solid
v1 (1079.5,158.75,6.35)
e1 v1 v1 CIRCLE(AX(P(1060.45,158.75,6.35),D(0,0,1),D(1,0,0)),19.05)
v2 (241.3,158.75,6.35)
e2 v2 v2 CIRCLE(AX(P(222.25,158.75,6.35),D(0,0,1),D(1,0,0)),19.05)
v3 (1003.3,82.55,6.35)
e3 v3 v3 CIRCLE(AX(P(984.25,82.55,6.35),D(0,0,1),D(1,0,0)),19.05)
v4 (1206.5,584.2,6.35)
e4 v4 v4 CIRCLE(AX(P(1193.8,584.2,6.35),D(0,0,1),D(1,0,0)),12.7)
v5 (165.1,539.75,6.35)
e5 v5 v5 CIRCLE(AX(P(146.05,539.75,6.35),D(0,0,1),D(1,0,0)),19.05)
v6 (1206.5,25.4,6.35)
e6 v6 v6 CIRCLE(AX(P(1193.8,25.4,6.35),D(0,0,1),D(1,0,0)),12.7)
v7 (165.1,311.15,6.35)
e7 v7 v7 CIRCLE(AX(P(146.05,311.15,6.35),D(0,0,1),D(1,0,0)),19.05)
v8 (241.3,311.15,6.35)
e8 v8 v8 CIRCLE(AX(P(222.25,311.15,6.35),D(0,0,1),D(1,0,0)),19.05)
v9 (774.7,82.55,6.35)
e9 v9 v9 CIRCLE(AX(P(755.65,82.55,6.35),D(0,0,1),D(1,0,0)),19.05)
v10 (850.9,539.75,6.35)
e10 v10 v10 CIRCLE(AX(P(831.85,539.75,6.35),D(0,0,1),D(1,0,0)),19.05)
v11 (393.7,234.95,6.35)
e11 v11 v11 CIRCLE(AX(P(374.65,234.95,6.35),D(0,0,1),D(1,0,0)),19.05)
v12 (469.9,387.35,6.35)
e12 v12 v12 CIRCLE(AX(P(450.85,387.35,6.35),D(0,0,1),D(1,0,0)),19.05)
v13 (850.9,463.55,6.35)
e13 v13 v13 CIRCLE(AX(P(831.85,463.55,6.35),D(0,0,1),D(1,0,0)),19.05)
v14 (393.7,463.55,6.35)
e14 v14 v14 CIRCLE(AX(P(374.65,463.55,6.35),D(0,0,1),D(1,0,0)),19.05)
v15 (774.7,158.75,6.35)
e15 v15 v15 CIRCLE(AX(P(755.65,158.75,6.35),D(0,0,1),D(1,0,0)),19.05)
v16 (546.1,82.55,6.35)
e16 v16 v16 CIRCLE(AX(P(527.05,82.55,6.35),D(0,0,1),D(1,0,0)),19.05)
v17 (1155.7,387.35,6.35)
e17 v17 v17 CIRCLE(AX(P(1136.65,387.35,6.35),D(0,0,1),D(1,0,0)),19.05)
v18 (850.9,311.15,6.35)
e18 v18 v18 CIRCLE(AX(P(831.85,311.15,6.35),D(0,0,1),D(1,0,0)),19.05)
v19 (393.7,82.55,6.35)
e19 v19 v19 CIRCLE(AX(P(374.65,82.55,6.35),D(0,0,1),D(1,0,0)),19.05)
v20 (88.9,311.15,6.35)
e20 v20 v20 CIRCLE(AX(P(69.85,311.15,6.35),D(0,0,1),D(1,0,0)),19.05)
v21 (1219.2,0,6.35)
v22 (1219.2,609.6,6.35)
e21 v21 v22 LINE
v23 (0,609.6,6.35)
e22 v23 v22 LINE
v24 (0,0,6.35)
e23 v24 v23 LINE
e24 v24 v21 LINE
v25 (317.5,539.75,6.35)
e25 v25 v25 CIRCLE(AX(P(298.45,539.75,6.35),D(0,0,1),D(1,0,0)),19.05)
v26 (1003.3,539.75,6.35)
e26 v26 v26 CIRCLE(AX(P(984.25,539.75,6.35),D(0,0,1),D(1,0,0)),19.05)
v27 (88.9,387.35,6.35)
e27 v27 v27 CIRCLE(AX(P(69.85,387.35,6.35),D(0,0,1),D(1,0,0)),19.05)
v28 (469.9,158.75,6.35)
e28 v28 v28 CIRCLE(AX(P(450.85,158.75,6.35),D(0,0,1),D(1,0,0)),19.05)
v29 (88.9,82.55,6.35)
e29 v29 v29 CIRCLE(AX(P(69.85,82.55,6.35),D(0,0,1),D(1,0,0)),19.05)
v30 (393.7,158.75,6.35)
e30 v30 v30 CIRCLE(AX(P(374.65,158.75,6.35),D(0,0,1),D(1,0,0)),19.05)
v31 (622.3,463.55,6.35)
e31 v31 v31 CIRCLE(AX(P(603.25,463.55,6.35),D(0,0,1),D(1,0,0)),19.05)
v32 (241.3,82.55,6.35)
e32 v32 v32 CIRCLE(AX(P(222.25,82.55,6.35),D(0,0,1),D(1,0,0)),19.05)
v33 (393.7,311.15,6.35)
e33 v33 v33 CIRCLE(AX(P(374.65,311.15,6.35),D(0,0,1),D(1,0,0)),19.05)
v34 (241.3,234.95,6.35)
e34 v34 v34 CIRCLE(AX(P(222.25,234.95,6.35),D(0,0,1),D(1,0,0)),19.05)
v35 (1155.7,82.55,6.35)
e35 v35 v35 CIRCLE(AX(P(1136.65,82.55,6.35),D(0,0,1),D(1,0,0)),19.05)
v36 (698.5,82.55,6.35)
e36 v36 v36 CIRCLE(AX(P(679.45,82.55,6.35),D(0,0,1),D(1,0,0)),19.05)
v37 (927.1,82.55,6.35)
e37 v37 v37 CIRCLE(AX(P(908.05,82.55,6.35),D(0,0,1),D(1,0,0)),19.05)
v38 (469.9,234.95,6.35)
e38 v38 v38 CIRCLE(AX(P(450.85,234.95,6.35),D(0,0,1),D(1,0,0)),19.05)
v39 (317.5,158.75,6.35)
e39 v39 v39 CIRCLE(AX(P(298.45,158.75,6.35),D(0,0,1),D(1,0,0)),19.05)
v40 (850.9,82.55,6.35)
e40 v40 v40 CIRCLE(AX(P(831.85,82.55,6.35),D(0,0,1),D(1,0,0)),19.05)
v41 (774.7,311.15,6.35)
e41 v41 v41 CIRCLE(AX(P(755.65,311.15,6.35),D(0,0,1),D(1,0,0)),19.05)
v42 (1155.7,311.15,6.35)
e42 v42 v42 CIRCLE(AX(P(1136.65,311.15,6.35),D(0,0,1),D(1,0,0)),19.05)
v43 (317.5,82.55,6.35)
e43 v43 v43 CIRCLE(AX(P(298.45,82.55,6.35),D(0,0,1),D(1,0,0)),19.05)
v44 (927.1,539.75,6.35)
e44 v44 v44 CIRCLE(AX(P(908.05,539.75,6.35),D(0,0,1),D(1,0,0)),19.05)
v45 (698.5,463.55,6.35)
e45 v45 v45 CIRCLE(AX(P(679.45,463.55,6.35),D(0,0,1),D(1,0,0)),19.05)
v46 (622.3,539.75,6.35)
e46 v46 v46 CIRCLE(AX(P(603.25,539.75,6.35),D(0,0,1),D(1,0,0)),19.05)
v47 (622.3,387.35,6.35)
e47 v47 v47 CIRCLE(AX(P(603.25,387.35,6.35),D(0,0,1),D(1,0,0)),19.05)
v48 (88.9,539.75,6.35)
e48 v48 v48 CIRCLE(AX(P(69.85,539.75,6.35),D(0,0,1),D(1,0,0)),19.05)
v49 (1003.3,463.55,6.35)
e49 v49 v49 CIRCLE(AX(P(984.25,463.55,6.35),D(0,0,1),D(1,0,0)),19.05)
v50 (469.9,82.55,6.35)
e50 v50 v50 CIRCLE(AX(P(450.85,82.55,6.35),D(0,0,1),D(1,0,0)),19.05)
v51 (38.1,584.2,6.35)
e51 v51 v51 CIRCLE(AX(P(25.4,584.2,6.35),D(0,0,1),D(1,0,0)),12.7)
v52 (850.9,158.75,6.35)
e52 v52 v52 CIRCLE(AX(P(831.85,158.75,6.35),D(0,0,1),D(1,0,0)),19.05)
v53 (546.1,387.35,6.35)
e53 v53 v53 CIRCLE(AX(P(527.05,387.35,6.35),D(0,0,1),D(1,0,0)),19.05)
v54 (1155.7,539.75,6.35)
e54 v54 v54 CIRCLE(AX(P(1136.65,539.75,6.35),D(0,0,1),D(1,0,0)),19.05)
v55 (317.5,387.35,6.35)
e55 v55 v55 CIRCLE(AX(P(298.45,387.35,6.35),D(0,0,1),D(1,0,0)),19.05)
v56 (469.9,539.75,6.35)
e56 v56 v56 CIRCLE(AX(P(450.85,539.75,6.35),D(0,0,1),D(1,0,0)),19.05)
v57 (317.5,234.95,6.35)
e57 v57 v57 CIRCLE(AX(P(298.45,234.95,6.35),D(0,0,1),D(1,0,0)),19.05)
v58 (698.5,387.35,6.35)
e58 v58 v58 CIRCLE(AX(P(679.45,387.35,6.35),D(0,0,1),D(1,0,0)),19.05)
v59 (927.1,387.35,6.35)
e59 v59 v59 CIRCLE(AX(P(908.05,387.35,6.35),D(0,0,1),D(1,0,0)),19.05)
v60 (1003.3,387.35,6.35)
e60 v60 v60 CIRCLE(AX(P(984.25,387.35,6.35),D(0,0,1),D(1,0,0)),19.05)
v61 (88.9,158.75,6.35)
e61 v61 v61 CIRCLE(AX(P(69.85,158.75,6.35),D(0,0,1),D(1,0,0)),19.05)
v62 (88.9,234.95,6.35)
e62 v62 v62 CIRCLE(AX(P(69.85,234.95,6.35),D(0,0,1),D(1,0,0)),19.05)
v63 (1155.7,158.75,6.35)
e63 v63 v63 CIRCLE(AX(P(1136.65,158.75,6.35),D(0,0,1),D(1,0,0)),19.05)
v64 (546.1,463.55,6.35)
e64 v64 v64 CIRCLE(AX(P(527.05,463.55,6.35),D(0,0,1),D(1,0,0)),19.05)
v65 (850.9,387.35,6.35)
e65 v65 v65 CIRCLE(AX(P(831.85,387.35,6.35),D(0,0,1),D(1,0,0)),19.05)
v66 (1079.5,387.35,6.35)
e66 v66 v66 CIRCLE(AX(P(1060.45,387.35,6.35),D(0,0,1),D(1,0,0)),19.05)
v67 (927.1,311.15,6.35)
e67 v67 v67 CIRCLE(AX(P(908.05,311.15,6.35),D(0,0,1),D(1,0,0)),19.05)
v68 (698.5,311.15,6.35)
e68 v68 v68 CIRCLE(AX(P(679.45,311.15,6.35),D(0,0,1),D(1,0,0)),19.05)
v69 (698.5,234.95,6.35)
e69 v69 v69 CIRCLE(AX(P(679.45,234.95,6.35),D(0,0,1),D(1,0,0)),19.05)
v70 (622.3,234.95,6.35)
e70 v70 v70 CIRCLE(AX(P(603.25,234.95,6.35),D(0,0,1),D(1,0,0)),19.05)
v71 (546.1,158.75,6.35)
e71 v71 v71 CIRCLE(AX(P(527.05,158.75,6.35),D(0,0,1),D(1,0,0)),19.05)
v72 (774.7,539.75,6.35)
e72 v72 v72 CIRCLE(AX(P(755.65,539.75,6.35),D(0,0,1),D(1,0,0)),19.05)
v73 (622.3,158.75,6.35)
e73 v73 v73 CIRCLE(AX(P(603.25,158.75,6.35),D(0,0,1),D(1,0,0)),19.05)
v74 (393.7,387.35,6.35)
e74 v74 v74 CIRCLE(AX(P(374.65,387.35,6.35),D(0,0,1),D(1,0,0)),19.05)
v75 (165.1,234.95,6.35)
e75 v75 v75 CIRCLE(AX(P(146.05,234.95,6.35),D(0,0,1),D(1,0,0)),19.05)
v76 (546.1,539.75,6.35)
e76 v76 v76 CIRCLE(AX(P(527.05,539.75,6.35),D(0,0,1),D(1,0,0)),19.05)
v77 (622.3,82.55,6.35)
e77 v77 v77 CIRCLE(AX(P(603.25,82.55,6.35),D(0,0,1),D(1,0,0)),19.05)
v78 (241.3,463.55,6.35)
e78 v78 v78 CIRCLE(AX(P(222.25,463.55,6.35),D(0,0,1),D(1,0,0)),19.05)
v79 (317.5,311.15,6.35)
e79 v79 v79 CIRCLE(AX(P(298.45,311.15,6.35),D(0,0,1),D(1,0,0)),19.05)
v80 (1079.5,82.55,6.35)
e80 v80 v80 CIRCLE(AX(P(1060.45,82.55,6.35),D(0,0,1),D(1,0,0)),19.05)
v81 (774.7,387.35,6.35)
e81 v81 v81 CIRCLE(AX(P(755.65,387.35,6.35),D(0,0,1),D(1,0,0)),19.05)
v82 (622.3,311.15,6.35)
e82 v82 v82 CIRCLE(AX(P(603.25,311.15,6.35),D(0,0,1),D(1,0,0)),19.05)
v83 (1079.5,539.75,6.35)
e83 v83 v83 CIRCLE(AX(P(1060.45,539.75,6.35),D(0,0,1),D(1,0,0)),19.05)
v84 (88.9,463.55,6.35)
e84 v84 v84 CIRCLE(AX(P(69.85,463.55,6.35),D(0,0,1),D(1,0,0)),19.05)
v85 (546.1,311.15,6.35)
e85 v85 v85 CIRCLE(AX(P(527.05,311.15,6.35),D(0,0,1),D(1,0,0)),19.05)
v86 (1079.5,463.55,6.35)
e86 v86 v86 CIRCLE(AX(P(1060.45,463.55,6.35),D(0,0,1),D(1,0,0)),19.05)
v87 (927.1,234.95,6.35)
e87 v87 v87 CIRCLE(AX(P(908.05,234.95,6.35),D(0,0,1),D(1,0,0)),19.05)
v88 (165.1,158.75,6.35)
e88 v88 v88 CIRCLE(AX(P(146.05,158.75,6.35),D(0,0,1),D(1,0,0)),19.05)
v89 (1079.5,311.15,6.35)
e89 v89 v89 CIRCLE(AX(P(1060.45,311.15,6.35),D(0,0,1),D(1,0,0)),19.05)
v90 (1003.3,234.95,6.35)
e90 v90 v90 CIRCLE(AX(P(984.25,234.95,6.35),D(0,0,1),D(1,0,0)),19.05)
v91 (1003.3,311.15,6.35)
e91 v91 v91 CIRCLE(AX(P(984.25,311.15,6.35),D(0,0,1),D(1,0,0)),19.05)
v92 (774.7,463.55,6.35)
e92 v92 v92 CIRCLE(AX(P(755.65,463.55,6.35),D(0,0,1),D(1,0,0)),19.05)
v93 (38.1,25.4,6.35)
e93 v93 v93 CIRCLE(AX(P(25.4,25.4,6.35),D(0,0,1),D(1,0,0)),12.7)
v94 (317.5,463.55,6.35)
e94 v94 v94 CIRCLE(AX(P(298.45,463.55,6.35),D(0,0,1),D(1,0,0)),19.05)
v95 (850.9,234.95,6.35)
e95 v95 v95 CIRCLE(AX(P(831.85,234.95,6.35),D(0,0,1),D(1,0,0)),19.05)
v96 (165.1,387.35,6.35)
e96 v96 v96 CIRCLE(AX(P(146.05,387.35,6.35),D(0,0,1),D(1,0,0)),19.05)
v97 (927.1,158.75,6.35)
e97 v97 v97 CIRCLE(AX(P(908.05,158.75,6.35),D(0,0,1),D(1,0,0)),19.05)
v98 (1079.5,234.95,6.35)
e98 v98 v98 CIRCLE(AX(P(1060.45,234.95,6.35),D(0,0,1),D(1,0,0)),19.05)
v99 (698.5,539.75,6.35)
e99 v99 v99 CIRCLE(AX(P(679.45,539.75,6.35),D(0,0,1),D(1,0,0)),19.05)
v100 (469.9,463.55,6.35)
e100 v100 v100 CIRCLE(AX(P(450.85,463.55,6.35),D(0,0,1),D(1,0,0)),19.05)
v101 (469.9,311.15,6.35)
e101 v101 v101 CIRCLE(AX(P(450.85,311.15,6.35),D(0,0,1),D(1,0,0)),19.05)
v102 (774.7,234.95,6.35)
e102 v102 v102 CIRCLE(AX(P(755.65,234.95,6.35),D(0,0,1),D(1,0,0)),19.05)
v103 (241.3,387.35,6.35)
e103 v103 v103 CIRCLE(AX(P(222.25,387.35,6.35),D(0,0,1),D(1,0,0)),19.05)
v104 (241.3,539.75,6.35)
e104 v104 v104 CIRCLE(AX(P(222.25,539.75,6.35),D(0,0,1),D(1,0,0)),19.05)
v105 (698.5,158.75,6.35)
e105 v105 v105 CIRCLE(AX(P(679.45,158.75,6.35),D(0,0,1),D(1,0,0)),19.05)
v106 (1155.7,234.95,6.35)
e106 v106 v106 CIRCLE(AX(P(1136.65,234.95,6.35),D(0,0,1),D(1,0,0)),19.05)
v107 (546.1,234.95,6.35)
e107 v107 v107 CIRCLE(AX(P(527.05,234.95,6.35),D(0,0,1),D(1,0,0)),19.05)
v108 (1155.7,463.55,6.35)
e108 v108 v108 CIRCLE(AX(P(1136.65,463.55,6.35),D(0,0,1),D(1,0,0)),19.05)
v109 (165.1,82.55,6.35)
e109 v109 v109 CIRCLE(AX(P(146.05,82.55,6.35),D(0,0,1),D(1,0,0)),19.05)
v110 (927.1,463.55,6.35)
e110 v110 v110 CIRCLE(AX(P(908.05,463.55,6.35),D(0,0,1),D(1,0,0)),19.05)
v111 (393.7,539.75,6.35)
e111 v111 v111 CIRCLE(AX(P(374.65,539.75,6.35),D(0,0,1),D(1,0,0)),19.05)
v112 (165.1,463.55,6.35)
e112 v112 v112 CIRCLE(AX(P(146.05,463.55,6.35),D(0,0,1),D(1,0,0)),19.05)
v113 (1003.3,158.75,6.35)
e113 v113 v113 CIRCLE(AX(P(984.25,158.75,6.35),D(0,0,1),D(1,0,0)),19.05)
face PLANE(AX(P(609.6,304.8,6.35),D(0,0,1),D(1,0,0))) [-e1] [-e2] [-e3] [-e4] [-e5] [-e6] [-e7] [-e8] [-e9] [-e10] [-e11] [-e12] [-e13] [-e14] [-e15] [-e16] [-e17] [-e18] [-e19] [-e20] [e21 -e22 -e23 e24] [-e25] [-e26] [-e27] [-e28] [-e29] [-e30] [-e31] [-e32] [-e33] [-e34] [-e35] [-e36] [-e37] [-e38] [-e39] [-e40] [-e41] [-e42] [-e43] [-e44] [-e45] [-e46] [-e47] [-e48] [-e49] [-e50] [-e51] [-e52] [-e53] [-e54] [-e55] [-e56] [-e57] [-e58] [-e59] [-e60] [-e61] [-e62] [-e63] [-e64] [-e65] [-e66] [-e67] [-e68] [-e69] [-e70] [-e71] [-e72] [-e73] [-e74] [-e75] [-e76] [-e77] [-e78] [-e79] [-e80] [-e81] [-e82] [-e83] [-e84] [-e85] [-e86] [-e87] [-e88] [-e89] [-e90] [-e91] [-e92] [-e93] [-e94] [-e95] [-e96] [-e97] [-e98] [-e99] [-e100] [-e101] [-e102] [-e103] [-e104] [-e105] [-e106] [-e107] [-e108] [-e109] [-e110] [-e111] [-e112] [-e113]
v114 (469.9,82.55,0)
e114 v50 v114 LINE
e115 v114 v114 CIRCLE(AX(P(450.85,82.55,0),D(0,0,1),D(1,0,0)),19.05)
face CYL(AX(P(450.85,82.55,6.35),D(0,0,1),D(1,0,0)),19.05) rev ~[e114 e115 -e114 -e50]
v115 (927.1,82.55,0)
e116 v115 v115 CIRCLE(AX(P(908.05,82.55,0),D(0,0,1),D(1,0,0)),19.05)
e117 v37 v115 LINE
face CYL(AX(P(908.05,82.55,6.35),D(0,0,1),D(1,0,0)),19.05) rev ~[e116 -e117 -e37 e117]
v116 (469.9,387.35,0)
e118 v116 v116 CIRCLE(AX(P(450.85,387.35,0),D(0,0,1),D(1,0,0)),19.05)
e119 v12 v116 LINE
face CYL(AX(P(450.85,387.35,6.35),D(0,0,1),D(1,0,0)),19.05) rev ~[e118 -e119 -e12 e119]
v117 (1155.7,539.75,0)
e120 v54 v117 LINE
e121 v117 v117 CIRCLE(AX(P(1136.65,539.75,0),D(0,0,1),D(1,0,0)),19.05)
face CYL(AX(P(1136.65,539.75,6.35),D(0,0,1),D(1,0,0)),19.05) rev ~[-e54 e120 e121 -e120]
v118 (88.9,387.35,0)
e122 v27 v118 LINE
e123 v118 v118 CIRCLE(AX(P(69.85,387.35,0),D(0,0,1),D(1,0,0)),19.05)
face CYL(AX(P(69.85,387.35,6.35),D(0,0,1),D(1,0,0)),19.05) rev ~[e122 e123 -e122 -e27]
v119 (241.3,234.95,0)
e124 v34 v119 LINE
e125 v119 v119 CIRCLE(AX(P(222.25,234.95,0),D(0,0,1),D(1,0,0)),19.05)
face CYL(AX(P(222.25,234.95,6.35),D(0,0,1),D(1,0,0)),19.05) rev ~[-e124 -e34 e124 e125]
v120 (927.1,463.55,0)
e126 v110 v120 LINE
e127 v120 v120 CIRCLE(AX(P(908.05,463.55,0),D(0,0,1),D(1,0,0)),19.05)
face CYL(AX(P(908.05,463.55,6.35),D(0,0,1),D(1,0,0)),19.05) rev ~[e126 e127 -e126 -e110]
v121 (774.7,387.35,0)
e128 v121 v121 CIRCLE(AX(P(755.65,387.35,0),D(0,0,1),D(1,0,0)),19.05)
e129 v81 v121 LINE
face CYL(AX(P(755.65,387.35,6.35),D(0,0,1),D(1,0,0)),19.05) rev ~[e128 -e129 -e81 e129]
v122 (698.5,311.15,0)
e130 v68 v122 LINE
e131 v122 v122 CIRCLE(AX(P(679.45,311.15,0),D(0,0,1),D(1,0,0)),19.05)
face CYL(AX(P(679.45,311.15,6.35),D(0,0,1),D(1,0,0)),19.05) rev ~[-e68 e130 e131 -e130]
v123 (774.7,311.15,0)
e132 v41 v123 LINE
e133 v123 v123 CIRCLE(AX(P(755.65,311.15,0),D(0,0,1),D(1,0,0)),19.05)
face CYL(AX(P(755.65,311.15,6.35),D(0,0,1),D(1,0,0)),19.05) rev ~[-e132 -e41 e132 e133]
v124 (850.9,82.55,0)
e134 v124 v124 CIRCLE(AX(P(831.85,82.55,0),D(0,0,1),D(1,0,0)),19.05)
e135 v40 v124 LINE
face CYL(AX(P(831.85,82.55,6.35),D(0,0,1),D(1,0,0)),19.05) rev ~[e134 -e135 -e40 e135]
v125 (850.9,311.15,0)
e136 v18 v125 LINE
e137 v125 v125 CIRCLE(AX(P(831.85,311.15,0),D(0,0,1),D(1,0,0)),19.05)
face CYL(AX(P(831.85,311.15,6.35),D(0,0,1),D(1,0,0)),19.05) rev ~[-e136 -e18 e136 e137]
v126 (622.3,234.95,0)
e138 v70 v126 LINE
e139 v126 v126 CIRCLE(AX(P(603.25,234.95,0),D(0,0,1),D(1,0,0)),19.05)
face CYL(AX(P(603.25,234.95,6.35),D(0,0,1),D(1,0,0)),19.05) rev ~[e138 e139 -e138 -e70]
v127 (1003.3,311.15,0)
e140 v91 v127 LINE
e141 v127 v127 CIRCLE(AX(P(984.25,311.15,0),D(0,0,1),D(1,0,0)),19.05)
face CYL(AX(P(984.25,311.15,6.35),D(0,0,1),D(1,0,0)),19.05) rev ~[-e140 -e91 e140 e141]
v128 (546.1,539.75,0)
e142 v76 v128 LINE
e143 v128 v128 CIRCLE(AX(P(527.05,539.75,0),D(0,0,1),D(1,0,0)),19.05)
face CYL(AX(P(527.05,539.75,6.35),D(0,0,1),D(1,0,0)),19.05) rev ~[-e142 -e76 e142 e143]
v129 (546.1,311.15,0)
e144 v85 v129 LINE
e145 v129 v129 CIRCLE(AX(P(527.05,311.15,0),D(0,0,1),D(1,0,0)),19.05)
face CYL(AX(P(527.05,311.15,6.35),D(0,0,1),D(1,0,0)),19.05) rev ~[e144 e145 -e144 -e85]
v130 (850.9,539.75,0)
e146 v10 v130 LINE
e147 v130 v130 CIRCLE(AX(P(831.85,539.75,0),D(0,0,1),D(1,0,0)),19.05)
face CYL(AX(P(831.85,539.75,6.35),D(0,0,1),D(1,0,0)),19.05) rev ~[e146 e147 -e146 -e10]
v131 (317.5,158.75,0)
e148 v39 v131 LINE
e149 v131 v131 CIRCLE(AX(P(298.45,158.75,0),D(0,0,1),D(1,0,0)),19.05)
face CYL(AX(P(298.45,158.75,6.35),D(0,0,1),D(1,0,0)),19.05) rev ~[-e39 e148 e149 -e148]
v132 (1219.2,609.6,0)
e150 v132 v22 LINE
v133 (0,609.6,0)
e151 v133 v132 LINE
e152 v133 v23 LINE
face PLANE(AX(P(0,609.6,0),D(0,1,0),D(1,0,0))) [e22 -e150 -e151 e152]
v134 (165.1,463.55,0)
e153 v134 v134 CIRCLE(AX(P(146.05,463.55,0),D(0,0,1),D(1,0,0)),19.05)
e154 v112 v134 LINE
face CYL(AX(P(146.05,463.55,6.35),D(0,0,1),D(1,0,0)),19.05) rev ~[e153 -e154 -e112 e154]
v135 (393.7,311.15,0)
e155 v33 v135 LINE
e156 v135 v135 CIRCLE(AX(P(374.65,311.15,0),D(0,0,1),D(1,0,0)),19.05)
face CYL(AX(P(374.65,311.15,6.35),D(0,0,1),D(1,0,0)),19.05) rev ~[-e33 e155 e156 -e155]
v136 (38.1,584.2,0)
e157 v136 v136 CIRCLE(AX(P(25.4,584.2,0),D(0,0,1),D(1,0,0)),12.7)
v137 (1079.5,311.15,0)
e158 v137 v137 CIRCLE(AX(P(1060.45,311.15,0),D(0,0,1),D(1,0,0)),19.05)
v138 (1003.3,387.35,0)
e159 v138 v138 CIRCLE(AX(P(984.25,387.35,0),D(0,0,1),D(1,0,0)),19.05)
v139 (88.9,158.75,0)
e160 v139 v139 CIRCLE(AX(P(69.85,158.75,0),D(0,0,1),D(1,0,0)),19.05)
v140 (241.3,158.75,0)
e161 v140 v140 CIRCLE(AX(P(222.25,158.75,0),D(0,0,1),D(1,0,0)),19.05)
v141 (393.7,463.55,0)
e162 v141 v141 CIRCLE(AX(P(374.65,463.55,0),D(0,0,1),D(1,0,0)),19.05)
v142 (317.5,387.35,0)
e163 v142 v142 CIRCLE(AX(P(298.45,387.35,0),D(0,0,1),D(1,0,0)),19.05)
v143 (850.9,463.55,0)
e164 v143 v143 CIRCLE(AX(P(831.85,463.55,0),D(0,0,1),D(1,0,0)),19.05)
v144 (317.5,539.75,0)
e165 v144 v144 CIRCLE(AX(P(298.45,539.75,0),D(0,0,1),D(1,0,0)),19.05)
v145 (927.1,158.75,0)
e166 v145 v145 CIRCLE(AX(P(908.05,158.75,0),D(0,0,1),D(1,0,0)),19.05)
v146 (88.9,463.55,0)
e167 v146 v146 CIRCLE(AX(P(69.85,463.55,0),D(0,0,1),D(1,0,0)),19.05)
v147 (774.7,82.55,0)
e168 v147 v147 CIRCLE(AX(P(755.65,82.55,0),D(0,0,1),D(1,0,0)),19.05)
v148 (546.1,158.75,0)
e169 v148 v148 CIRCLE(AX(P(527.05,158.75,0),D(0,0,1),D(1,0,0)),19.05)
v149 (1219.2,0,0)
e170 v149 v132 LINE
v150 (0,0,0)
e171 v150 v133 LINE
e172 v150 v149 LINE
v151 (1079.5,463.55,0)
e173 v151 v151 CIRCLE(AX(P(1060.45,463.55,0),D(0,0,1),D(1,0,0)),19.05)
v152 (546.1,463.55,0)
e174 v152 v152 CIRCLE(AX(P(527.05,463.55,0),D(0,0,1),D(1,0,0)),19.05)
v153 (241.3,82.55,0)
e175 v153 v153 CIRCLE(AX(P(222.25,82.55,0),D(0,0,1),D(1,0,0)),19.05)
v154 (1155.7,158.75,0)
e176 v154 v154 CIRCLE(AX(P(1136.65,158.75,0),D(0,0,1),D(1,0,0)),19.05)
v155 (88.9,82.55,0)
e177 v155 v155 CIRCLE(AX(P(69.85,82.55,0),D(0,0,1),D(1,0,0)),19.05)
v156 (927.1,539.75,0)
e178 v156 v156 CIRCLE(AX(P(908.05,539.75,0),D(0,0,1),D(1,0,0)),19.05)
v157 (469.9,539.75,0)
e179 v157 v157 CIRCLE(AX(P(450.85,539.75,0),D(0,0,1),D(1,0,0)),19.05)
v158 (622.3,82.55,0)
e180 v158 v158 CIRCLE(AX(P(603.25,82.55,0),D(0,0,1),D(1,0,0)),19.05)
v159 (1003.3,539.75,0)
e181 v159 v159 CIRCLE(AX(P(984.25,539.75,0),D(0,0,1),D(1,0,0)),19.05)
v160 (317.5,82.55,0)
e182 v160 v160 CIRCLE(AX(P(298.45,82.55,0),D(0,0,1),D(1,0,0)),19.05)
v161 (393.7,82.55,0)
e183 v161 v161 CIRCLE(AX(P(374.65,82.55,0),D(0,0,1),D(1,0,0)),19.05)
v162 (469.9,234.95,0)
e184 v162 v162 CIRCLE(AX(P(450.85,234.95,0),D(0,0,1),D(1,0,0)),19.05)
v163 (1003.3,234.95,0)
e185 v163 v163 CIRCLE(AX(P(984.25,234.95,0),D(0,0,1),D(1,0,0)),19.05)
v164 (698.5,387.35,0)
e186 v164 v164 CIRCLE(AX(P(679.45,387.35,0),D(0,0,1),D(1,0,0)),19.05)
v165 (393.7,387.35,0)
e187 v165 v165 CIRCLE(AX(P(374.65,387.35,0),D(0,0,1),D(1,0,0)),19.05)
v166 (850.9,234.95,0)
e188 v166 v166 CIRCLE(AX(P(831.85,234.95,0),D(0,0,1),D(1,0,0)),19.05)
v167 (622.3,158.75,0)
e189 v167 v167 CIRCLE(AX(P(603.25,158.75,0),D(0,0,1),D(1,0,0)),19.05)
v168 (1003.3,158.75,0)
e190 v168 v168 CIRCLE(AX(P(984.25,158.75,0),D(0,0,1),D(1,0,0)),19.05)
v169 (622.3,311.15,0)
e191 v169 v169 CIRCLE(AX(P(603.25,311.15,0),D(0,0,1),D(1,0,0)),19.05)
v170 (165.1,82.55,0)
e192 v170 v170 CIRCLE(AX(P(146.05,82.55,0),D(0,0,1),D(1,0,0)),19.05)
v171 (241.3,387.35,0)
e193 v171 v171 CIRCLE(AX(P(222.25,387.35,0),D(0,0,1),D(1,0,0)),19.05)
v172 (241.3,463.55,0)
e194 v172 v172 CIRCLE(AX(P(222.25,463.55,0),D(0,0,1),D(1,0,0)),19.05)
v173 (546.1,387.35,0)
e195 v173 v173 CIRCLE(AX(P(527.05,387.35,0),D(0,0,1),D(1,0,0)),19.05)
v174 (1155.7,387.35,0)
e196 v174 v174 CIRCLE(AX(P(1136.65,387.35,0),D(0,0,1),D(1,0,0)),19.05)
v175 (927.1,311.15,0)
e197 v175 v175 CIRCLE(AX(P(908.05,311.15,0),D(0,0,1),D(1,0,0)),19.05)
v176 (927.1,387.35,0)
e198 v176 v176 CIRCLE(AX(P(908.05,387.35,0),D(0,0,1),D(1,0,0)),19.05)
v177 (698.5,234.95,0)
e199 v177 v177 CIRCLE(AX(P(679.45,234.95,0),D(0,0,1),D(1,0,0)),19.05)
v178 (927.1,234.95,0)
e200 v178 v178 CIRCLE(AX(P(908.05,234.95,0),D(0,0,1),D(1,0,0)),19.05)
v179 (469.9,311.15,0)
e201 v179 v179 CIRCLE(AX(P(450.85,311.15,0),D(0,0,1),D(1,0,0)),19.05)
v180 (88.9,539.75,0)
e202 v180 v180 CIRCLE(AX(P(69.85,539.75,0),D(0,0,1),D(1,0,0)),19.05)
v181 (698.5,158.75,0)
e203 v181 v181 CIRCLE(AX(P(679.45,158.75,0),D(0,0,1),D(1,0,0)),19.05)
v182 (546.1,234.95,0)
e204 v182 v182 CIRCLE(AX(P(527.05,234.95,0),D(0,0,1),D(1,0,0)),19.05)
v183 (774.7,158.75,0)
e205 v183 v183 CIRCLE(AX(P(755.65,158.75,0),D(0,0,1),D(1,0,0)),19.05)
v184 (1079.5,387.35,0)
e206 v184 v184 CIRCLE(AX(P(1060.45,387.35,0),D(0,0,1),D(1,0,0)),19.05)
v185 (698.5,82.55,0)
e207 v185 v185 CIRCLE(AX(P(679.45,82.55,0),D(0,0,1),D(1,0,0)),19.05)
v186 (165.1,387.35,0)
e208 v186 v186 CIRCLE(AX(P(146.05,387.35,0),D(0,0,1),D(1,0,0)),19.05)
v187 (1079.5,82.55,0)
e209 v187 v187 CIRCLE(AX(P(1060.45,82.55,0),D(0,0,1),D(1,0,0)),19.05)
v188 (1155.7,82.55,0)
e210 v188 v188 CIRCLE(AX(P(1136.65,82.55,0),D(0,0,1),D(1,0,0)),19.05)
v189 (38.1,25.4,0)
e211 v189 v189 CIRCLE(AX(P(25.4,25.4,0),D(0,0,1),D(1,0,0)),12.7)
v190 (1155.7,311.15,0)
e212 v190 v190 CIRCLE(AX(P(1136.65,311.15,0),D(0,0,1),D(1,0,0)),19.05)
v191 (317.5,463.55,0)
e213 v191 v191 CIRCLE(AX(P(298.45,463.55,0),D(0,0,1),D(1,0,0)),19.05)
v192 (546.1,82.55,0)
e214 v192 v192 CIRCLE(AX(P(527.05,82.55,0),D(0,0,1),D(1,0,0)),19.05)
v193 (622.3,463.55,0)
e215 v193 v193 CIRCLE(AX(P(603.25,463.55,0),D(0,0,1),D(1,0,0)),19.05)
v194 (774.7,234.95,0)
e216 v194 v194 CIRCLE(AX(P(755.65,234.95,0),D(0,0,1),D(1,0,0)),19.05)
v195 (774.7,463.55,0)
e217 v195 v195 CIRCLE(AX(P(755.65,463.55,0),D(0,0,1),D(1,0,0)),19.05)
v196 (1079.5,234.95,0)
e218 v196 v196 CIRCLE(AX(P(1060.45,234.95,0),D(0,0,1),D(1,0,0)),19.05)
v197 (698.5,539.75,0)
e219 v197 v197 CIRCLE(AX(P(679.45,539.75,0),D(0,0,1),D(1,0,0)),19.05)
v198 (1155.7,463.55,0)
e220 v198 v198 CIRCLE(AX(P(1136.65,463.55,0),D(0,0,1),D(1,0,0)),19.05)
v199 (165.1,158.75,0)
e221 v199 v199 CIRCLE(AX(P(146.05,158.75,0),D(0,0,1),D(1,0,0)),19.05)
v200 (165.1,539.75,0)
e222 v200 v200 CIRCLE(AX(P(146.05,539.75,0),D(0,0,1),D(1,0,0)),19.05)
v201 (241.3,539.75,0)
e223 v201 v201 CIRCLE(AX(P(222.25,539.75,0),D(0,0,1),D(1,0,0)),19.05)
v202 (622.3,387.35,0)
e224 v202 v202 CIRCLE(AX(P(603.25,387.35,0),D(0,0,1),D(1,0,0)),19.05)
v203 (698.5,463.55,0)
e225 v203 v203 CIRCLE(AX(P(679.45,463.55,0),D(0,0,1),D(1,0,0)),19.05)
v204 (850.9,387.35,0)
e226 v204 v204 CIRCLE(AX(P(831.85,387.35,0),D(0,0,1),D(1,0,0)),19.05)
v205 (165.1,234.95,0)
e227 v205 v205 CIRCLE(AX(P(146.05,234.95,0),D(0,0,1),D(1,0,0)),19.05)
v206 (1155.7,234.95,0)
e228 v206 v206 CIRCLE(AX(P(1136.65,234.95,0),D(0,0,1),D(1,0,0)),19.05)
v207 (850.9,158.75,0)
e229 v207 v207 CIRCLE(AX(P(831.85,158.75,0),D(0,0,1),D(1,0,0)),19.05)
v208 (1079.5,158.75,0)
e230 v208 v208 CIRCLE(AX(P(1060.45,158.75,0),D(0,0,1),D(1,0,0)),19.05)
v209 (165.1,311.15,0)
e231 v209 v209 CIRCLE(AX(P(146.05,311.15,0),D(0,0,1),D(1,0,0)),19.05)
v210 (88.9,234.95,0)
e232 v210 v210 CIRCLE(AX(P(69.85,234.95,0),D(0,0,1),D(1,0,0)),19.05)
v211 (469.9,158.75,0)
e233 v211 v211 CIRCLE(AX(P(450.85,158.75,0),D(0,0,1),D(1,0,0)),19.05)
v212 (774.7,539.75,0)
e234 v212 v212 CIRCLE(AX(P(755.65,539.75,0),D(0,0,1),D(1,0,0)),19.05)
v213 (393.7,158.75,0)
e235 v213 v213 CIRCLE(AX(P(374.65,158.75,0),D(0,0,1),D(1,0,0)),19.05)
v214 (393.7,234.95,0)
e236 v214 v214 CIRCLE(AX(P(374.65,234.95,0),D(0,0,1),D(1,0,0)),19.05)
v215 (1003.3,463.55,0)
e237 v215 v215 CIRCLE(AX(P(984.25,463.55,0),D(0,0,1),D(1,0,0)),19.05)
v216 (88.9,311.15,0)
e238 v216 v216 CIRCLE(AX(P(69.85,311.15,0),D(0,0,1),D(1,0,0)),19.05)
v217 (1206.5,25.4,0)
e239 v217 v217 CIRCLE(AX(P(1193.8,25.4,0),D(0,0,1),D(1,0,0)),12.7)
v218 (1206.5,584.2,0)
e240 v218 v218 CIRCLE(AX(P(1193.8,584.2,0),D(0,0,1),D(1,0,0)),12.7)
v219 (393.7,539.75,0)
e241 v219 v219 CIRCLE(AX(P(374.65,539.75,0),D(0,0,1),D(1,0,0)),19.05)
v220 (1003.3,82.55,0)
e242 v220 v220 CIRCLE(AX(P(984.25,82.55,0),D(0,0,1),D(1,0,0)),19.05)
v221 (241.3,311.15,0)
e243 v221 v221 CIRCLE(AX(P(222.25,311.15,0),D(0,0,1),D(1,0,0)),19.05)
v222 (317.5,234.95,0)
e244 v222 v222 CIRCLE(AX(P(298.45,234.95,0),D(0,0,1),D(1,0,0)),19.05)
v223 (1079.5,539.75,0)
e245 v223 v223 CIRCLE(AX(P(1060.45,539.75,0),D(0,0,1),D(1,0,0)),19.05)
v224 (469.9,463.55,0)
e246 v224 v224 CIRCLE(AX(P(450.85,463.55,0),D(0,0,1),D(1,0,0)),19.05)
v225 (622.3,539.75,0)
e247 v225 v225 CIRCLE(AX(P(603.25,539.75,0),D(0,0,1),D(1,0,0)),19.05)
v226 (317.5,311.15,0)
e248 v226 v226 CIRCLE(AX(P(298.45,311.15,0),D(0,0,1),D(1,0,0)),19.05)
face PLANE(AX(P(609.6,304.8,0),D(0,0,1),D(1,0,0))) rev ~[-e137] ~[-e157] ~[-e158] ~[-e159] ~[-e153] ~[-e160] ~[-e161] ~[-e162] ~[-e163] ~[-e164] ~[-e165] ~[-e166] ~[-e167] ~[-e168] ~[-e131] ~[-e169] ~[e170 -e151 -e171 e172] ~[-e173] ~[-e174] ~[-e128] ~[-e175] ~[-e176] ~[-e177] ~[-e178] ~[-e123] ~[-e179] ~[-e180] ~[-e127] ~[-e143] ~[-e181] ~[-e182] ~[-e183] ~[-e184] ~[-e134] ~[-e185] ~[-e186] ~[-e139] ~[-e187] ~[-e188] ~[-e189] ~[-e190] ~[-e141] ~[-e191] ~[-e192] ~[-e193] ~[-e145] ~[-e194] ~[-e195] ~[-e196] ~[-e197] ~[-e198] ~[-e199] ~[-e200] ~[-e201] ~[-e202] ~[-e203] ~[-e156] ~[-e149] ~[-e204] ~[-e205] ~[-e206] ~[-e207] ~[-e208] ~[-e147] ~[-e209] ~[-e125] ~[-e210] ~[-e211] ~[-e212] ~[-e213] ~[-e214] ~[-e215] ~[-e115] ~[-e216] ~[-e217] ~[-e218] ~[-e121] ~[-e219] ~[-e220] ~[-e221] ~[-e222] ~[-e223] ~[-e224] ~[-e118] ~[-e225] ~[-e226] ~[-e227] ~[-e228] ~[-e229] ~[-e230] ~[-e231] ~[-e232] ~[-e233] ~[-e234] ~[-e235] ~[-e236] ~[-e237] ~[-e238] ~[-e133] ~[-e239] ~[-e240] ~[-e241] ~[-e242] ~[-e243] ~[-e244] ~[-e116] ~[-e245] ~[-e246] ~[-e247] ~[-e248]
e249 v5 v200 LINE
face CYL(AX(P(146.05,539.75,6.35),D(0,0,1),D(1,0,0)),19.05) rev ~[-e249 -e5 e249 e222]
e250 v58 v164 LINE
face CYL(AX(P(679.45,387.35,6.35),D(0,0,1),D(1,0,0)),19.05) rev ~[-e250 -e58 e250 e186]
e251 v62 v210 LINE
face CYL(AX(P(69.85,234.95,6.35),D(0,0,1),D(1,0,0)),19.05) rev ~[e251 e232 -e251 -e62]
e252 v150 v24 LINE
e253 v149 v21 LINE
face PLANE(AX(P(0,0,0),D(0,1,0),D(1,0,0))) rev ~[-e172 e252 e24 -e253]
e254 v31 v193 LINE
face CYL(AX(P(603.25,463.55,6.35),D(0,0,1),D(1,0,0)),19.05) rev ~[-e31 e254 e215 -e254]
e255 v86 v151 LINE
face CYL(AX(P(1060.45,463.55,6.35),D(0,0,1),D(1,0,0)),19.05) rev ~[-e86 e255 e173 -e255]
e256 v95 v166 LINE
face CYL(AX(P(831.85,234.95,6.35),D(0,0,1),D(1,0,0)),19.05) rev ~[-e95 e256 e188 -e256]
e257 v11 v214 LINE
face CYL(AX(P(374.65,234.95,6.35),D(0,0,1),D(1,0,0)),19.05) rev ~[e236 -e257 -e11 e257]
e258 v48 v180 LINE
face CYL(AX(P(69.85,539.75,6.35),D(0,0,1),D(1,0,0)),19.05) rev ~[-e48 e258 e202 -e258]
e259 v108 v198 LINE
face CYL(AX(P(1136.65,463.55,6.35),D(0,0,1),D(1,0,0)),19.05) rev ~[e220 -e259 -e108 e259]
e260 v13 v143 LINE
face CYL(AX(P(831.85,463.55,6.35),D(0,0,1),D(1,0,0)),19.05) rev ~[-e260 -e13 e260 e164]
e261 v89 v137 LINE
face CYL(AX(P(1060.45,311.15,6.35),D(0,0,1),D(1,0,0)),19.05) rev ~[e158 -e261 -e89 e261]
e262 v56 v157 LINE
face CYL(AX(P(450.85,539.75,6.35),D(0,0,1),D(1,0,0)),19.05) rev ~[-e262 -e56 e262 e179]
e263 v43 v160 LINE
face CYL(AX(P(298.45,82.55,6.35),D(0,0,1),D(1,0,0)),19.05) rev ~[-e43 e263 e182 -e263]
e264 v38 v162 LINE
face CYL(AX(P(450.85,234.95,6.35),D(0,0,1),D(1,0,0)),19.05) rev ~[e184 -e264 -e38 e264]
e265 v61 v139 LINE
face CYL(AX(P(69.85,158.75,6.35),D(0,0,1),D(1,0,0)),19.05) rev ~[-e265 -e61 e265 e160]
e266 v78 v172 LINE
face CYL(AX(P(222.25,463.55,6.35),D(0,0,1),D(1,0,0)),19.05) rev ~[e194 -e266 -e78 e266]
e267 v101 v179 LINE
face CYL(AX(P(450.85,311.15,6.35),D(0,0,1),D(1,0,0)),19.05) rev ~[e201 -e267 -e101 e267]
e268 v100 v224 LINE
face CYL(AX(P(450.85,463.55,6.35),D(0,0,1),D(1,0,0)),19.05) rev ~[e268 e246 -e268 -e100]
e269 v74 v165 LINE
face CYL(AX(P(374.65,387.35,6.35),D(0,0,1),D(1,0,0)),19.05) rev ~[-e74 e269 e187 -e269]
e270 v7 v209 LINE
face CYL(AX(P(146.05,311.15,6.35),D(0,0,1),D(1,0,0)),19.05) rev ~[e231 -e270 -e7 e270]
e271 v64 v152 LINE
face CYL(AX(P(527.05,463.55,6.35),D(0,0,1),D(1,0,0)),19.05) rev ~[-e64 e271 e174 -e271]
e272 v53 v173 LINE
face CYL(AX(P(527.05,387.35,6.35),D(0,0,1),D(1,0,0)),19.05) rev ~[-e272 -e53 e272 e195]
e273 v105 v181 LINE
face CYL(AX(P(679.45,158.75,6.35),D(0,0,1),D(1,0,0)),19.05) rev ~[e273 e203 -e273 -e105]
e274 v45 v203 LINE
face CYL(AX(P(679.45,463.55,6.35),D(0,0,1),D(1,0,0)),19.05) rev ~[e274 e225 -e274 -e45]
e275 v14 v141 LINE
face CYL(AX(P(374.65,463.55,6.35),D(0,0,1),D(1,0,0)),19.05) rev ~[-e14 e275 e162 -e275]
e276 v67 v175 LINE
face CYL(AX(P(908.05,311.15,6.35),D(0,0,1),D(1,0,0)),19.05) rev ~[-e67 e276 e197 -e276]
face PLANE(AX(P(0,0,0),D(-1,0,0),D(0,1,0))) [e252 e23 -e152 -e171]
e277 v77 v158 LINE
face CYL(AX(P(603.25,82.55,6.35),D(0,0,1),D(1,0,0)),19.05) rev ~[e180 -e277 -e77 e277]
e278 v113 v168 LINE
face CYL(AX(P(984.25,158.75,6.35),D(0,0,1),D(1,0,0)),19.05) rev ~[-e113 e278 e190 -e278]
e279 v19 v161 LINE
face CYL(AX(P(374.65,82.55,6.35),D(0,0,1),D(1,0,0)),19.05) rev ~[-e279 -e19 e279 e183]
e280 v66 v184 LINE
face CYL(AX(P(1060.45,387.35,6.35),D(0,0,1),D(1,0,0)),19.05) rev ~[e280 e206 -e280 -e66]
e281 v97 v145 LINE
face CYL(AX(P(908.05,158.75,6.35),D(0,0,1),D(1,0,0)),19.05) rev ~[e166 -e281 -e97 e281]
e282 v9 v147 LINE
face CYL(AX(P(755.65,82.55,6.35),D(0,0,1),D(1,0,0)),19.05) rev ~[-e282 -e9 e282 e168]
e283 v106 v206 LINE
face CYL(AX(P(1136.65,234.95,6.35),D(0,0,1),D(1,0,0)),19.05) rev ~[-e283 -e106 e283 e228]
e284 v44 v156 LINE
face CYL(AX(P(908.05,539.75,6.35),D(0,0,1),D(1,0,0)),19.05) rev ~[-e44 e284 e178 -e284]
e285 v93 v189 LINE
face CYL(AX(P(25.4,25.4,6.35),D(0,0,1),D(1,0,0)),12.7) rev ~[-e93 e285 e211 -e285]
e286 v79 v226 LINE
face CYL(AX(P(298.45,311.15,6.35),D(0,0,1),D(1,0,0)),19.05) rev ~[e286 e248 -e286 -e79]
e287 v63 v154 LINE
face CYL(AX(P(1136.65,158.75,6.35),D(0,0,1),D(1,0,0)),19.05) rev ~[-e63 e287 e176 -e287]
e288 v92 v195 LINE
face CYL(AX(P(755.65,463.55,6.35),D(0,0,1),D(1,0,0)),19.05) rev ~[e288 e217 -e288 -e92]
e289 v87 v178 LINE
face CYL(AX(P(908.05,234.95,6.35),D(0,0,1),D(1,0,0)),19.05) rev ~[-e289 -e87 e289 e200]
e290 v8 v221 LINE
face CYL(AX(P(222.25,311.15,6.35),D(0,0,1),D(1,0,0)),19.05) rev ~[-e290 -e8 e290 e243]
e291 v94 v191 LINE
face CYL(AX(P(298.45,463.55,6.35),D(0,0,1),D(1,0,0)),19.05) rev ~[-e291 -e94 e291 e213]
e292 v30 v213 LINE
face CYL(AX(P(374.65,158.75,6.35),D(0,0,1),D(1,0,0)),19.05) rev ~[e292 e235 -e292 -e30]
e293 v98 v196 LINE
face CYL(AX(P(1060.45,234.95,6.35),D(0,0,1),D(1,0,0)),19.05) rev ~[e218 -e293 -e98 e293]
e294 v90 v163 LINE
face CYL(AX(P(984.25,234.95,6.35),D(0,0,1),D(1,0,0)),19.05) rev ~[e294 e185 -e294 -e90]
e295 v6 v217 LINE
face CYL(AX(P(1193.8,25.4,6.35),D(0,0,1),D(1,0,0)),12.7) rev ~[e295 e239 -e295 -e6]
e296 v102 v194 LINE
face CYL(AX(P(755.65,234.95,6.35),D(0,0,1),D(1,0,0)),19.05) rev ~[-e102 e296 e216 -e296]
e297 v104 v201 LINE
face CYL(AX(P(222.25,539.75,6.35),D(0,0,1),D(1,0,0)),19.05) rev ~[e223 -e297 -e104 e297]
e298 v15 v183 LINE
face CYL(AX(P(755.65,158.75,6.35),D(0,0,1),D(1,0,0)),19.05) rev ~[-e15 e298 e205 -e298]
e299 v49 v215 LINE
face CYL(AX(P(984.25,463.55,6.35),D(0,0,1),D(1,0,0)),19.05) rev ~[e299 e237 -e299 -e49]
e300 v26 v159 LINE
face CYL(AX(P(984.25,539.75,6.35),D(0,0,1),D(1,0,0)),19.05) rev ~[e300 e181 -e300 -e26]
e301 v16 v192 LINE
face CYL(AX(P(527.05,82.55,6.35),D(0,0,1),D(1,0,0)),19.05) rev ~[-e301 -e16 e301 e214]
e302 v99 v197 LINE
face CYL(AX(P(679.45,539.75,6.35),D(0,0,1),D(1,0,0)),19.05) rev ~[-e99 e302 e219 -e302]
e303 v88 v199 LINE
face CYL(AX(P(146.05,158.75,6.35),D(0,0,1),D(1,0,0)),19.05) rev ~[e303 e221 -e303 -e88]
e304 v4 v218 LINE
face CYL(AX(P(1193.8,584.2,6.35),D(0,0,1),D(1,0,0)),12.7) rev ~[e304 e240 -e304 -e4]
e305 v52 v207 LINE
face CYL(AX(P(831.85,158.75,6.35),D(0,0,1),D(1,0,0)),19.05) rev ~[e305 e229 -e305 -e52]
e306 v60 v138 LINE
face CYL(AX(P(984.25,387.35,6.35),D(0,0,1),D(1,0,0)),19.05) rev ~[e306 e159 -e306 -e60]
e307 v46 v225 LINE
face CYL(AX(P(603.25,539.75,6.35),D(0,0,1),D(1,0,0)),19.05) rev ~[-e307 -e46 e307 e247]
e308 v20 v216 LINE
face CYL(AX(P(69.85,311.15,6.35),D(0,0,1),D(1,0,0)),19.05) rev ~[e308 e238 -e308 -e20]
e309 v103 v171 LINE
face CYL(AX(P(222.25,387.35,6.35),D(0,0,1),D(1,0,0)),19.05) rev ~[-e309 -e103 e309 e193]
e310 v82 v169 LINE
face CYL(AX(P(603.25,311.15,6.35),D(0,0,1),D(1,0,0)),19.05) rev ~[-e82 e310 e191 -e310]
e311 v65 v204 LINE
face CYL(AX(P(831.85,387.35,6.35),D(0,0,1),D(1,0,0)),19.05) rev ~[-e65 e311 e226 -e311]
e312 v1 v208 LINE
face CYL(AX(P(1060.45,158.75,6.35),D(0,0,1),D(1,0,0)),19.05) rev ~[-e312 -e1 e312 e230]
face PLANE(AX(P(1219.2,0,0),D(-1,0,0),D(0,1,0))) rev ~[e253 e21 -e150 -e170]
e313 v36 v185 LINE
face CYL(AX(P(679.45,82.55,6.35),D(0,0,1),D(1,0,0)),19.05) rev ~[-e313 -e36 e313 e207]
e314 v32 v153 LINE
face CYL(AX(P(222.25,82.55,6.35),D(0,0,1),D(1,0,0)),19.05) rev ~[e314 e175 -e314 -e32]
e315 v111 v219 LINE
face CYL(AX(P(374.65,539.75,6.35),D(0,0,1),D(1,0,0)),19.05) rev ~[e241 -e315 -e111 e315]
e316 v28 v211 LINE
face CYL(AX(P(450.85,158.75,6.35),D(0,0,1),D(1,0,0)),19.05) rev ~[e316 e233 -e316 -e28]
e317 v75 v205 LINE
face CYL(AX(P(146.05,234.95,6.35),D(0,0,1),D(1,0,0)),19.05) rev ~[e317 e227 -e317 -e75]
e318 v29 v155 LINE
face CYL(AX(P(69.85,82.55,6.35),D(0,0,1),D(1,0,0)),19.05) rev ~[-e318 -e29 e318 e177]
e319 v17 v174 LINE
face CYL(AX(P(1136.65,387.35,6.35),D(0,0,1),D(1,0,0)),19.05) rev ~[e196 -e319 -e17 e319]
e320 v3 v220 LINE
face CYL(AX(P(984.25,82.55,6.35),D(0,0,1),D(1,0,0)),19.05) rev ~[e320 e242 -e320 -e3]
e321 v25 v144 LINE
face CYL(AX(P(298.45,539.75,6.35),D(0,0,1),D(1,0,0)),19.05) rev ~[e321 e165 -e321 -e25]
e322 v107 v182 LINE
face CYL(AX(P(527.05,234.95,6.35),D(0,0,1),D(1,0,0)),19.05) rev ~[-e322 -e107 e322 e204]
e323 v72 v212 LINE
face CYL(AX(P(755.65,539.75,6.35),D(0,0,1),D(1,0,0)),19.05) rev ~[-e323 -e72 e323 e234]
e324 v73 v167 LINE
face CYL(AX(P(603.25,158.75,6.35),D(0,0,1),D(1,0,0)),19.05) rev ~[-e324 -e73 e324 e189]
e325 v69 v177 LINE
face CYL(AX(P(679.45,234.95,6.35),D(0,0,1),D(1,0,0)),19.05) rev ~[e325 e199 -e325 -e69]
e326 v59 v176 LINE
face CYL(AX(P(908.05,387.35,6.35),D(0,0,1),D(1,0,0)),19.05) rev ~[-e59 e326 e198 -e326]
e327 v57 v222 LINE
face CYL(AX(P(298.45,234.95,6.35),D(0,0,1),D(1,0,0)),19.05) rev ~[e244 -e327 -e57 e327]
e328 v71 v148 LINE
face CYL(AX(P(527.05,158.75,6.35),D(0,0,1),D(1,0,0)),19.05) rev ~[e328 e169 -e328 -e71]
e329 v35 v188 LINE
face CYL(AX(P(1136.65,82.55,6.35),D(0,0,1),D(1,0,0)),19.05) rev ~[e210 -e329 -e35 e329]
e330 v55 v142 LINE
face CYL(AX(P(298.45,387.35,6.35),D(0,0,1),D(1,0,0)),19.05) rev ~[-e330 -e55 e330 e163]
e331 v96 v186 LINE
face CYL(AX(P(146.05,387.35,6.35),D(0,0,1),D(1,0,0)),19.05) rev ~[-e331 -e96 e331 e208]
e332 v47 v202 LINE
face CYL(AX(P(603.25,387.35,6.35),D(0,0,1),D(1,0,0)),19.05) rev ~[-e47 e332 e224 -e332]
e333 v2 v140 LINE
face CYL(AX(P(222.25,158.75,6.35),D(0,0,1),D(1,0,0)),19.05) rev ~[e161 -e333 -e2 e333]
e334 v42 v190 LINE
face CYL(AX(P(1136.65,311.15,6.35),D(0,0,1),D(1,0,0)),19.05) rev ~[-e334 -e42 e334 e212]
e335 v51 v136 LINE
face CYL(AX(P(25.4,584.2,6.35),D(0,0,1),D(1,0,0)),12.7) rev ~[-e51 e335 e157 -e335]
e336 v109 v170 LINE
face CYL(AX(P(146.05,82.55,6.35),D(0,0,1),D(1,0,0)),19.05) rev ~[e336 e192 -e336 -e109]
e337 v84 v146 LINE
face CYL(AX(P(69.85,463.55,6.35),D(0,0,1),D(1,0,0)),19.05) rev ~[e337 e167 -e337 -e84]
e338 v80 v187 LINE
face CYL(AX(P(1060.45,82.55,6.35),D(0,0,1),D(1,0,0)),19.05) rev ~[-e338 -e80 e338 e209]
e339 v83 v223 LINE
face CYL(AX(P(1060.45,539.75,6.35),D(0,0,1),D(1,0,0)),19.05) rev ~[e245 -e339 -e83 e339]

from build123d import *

# Parameters (mm, degrees)
F0_W     = 1219.2
F0_H     = 609.6
F1_DEPTH = 6.35
F2_R     = 19.05
F3_DEPTH = 6.35
F4_R     = 12.7
F5_DEPTH = 6.35


with BuildPart() as f1:
    # F0 (on Top) → F1 (new body)
    with BuildSketch(Plane.XY):
        with Locations((609.6, 304.8)):
            Rectangle(F0_W, F0_H)
    extrude(amount=F1_DEPTH)

    # F2 (on face) → F3 (cut, through all)
    with BuildSketch(Plane.XY.offset(6.35)):
        with Locations((69.85, 539.75)):
            Circle(F2_R)
        with Locations((146.05, 539.75)):
            Circle(F2_R)
        with Locations((222.25, 539.75)):
            Circle(F2_R)
        with Locations((298.45, 539.75)):
            Circle(F2_R)
        with Locations((374.65, 539.75)):
            Circle(F2_R)
        with Locations((450.85, 539.75)):
            Circle(F2_R)
        with Locations((527.05, 539.75)):
            Circle(F2_R)
        with Locations((603.25, 539.75)):
            Circle(F2_R)
        with Locations((679.45, 539.75)):
            Circle(F2_R)
        with Locations((755.65, 539.75)):
            Circle(F2_R)
        with Locations((831.85, 539.75)):
            Circle(F2_R)
        with Locations((908.05, 539.75)):
            Circle(F2_R)
        with Locations((984.25, 539.75)):
            Circle(F2_R)
        with Locations((1060.45, 539.75)):
            Circle(F2_R)
        with Locations((1136.65, 539.75)):
            Circle(F2_R)
        with Locations((69.85, 463.55)):
            Circle(F2_R)
        with Locations((222.25, 463.55)):
            Circle(F2_R)
        with Locations((146.05, 463.55)):
            Circle(F2_R)
        with Locations((298.45, 463.55)):
            Circle(F2_R)
        with Locations((374.65, 463.55)):
            Circle(F2_R)
        with Locations((450.85, 463.55)):
            Circle(F2_R)
        with Locations((527.05, 463.55)):
            Circle(F2_R)
        with Locations((603.25, 463.55)):
            Circle(F2_R)
        with Locations((679.45, 463.55)):
            Circle(F2_R)
        with Locations((755.65, 463.55)):
            Circle(F2_R)
        with Locations((831.85, 463.55)):
            Circle(F2_R)
        with Locations((908.05, 463.55)):
            Circle(F2_R)
        with Locations((984.25, 463.55)):
            Circle(F2_R)
        with Locations((1060.45, 463.55)):
            Circle(F2_R)
        with Locations((1136.65, 463.55)):
            Circle(F2_R)
        with Locations((69.85, 387.35)):
            Circle(F2_R)
        with Locations((222.25, 387.35)):
            Circle(F2_R)
        with Locations((146.05, 387.35)):
            Circle(F2_R)
        with Locations((298.45, 387.35)):
            Circle(F2_R)
        with Locations((374.65, 387.35)):
            Circle(F2_R)
        with Locations((450.85, 387.35)):
            Circle(F2_R)
        with Locations((527.05, 387.35)):
            Circle(F2_R)
        with Locations((603.25, 387.35)):
            Circle(F2_R)
        with Locations((679.45, 387.35)):
            Circle(F2_R)
        with Locations((755.65, 387.35)):
            Circle(F2_R)
        with Locations((831.85, 387.35)):
            Circle(F2_R)
        with Locations((908.05, 387.35)):
            Circle(F2_R)
        with Locations((984.25, 387.35)):
            Circle(F2_R)
        with Locations((1060.45, 387.35)):
            Circle(F2_R)
        with Locations((1136.65, 387.35)):
            Circle(F2_R)
        with Locations((69.85, 311.15)):
            Circle(F2_R)
        with Locations((222.25, 311.15)):
            Circle(F2_R)
        with Locations((146.05, 311.15)):
            Circle(F2_R)
        with Locations((298.45, 311.15)):
            Circle(F2_R)
        with Locations((374.65, 311.15)):
            Circle(F2_R)
        with Locations((450.85, 311.15)):
            Circle(F2_R)
        with Locations((527.05, 311.15)):
            Circle(F2_R)
        with Locations((603.25, 311.15)):
            Circle(F2_R)
        with Locations((679.45, 311.15)):
            Circle(F2_R)
        with Locations((755.65, 311.15)):
            Circle(F2_R)
        with Locations((831.85, 311.15)):
            Circle(F2_R)
        with Locations((908.05, 311.15)):
            Circle(F2_R)
        with Locations((984.25, 311.15)):
            Circle(F2_R)
        with Locations((1060.45, 311.15)):
            Circle(F2_R)
        with Locations((1136.65, 311.15)):
            Circle(F2_R)
        with Locations((69.85, 234.95)):
            Circle(F2_R)
        with Locations((222.25, 234.95)):
            Circle(F2_R)
        with Locations((146.05, 234.95)):
            Circle(F2_R)
        with Locations((298.45, 234.95)):
            Circle(F2_R)
        with Locations((374.65, 234.95)):
            Circle(F2_R)
        with Locations((450.85, 234.95)):
            Circle(F2_R)
        with Locations((527.05, 234.95)):
            Circle(F2_R)
        with Locations((603.25, 234.95)):
            Circle(F2_R)
        with Locations((679.45, 234.95)):
            Circle(F2_R)
        with Locations((755.65, 234.95)):
            Circle(F2_R)
        with Locations((831.85, 234.95)):
            Circle(F2_R)
        with Locations((908.05, 234.95)):
            Circle(F2_R)
        with Locations((984.25, 234.95)):
            Circle(F2_R)
        with Locations((1060.45, 234.95)):
            Circle(F2_R)
        with Locations((1136.65, 234.95)):
            Circle(F2_R)
        with Locations((69.85, 158.75)):
            Circle(F2_R)
        with Locations((222.25, 158.75)):
            Circle(F2_R)
        with Locations((146.05, 158.75)):
            Circle(F2_R)
        with Locations((298.45, 158.75)):
            Circle(F2_R)
        with Locations((374.65, 158.75)):
            Circle(F2_R)
        with Locations((450.85, 158.75)):
            Circle(F2_R)
        with Locations((527.05, 158.75)):
            Circle(F2_R)
        with Locations((603.25, 158.75)):
            Circle(F2_R)
        with Locations((679.45, 158.75)):
            Circle(F2_R)
        with Locations((755.65, 158.75)):
            Circle(F2_R)
        with Locations((831.85, 158.75)):
            Circle(F2_R)
        with Locations((908.05, 158.75)):
            Circle(F2_R)
        with Locations((984.25, 158.75)):
            Circle(F2_R)
        with Locations((1060.45, 158.75)):
            Circle(F2_R)
        with Locations((1136.65, 158.75)):
            Circle(F2_R)
        with Locations((69.85, 82.55)):
            Circle(F2_R)
        with Locations((222.25, 82.55)):
            Circle(F2_R)
        with Locations((146.05, 82.55)):
            Circle(F2_R)
        with Locations((298.45, 82.55)):
            Circle(F2_R)
        with Locations((374.65, 82.55)):
            Circle(F2_R)
        with Locations((450.85, 82.55)):
            Circle(F2_R)
        with Locations((527.05, 82.55)):
            Circle(F2_R)
        with Locations((603.25, 82.55)):
            Circle(F2_R)
        with Locations((679.45, 82.55)):
            Circle(F2_R)
        with Locations((755.65, 82.55)):
            Circle(F2_R)
        with Locations((831.85, 82.55)):
            Circle(F2_R)
        with Locations((908.05, 82.55)):
            Circle(F2_R)
        with Locations((984.25, 82.55)):
            Circle(F2_R)
        with Locations((1060.45, 82.55)):
            Circle(F2_R)
        with Locations((1136.65, 82.55)):
            Circle(F2_R)
    extrude(amount=-F3_DEPTH, mode=Mode.SUBTRACT)

    # F4 (on face) → F5 (cut, through all)
    with BuildSketch(Plane.XY.offset(6.35)):
        with Locations((25.4, 584.2)):
            Circle(F4_R)
        with Locations((25.4, 25.4)):
            Circle(F4_R)
        with Locations((1193.8, 25.4)):
            Circle(F4_R)
        with Locations((1193.8, 584.2)):
            Circle(F4_R)
    extrude(amount=-F5_DEPTH, mode=Mode.SUBTRACT)


solid = f1.part
